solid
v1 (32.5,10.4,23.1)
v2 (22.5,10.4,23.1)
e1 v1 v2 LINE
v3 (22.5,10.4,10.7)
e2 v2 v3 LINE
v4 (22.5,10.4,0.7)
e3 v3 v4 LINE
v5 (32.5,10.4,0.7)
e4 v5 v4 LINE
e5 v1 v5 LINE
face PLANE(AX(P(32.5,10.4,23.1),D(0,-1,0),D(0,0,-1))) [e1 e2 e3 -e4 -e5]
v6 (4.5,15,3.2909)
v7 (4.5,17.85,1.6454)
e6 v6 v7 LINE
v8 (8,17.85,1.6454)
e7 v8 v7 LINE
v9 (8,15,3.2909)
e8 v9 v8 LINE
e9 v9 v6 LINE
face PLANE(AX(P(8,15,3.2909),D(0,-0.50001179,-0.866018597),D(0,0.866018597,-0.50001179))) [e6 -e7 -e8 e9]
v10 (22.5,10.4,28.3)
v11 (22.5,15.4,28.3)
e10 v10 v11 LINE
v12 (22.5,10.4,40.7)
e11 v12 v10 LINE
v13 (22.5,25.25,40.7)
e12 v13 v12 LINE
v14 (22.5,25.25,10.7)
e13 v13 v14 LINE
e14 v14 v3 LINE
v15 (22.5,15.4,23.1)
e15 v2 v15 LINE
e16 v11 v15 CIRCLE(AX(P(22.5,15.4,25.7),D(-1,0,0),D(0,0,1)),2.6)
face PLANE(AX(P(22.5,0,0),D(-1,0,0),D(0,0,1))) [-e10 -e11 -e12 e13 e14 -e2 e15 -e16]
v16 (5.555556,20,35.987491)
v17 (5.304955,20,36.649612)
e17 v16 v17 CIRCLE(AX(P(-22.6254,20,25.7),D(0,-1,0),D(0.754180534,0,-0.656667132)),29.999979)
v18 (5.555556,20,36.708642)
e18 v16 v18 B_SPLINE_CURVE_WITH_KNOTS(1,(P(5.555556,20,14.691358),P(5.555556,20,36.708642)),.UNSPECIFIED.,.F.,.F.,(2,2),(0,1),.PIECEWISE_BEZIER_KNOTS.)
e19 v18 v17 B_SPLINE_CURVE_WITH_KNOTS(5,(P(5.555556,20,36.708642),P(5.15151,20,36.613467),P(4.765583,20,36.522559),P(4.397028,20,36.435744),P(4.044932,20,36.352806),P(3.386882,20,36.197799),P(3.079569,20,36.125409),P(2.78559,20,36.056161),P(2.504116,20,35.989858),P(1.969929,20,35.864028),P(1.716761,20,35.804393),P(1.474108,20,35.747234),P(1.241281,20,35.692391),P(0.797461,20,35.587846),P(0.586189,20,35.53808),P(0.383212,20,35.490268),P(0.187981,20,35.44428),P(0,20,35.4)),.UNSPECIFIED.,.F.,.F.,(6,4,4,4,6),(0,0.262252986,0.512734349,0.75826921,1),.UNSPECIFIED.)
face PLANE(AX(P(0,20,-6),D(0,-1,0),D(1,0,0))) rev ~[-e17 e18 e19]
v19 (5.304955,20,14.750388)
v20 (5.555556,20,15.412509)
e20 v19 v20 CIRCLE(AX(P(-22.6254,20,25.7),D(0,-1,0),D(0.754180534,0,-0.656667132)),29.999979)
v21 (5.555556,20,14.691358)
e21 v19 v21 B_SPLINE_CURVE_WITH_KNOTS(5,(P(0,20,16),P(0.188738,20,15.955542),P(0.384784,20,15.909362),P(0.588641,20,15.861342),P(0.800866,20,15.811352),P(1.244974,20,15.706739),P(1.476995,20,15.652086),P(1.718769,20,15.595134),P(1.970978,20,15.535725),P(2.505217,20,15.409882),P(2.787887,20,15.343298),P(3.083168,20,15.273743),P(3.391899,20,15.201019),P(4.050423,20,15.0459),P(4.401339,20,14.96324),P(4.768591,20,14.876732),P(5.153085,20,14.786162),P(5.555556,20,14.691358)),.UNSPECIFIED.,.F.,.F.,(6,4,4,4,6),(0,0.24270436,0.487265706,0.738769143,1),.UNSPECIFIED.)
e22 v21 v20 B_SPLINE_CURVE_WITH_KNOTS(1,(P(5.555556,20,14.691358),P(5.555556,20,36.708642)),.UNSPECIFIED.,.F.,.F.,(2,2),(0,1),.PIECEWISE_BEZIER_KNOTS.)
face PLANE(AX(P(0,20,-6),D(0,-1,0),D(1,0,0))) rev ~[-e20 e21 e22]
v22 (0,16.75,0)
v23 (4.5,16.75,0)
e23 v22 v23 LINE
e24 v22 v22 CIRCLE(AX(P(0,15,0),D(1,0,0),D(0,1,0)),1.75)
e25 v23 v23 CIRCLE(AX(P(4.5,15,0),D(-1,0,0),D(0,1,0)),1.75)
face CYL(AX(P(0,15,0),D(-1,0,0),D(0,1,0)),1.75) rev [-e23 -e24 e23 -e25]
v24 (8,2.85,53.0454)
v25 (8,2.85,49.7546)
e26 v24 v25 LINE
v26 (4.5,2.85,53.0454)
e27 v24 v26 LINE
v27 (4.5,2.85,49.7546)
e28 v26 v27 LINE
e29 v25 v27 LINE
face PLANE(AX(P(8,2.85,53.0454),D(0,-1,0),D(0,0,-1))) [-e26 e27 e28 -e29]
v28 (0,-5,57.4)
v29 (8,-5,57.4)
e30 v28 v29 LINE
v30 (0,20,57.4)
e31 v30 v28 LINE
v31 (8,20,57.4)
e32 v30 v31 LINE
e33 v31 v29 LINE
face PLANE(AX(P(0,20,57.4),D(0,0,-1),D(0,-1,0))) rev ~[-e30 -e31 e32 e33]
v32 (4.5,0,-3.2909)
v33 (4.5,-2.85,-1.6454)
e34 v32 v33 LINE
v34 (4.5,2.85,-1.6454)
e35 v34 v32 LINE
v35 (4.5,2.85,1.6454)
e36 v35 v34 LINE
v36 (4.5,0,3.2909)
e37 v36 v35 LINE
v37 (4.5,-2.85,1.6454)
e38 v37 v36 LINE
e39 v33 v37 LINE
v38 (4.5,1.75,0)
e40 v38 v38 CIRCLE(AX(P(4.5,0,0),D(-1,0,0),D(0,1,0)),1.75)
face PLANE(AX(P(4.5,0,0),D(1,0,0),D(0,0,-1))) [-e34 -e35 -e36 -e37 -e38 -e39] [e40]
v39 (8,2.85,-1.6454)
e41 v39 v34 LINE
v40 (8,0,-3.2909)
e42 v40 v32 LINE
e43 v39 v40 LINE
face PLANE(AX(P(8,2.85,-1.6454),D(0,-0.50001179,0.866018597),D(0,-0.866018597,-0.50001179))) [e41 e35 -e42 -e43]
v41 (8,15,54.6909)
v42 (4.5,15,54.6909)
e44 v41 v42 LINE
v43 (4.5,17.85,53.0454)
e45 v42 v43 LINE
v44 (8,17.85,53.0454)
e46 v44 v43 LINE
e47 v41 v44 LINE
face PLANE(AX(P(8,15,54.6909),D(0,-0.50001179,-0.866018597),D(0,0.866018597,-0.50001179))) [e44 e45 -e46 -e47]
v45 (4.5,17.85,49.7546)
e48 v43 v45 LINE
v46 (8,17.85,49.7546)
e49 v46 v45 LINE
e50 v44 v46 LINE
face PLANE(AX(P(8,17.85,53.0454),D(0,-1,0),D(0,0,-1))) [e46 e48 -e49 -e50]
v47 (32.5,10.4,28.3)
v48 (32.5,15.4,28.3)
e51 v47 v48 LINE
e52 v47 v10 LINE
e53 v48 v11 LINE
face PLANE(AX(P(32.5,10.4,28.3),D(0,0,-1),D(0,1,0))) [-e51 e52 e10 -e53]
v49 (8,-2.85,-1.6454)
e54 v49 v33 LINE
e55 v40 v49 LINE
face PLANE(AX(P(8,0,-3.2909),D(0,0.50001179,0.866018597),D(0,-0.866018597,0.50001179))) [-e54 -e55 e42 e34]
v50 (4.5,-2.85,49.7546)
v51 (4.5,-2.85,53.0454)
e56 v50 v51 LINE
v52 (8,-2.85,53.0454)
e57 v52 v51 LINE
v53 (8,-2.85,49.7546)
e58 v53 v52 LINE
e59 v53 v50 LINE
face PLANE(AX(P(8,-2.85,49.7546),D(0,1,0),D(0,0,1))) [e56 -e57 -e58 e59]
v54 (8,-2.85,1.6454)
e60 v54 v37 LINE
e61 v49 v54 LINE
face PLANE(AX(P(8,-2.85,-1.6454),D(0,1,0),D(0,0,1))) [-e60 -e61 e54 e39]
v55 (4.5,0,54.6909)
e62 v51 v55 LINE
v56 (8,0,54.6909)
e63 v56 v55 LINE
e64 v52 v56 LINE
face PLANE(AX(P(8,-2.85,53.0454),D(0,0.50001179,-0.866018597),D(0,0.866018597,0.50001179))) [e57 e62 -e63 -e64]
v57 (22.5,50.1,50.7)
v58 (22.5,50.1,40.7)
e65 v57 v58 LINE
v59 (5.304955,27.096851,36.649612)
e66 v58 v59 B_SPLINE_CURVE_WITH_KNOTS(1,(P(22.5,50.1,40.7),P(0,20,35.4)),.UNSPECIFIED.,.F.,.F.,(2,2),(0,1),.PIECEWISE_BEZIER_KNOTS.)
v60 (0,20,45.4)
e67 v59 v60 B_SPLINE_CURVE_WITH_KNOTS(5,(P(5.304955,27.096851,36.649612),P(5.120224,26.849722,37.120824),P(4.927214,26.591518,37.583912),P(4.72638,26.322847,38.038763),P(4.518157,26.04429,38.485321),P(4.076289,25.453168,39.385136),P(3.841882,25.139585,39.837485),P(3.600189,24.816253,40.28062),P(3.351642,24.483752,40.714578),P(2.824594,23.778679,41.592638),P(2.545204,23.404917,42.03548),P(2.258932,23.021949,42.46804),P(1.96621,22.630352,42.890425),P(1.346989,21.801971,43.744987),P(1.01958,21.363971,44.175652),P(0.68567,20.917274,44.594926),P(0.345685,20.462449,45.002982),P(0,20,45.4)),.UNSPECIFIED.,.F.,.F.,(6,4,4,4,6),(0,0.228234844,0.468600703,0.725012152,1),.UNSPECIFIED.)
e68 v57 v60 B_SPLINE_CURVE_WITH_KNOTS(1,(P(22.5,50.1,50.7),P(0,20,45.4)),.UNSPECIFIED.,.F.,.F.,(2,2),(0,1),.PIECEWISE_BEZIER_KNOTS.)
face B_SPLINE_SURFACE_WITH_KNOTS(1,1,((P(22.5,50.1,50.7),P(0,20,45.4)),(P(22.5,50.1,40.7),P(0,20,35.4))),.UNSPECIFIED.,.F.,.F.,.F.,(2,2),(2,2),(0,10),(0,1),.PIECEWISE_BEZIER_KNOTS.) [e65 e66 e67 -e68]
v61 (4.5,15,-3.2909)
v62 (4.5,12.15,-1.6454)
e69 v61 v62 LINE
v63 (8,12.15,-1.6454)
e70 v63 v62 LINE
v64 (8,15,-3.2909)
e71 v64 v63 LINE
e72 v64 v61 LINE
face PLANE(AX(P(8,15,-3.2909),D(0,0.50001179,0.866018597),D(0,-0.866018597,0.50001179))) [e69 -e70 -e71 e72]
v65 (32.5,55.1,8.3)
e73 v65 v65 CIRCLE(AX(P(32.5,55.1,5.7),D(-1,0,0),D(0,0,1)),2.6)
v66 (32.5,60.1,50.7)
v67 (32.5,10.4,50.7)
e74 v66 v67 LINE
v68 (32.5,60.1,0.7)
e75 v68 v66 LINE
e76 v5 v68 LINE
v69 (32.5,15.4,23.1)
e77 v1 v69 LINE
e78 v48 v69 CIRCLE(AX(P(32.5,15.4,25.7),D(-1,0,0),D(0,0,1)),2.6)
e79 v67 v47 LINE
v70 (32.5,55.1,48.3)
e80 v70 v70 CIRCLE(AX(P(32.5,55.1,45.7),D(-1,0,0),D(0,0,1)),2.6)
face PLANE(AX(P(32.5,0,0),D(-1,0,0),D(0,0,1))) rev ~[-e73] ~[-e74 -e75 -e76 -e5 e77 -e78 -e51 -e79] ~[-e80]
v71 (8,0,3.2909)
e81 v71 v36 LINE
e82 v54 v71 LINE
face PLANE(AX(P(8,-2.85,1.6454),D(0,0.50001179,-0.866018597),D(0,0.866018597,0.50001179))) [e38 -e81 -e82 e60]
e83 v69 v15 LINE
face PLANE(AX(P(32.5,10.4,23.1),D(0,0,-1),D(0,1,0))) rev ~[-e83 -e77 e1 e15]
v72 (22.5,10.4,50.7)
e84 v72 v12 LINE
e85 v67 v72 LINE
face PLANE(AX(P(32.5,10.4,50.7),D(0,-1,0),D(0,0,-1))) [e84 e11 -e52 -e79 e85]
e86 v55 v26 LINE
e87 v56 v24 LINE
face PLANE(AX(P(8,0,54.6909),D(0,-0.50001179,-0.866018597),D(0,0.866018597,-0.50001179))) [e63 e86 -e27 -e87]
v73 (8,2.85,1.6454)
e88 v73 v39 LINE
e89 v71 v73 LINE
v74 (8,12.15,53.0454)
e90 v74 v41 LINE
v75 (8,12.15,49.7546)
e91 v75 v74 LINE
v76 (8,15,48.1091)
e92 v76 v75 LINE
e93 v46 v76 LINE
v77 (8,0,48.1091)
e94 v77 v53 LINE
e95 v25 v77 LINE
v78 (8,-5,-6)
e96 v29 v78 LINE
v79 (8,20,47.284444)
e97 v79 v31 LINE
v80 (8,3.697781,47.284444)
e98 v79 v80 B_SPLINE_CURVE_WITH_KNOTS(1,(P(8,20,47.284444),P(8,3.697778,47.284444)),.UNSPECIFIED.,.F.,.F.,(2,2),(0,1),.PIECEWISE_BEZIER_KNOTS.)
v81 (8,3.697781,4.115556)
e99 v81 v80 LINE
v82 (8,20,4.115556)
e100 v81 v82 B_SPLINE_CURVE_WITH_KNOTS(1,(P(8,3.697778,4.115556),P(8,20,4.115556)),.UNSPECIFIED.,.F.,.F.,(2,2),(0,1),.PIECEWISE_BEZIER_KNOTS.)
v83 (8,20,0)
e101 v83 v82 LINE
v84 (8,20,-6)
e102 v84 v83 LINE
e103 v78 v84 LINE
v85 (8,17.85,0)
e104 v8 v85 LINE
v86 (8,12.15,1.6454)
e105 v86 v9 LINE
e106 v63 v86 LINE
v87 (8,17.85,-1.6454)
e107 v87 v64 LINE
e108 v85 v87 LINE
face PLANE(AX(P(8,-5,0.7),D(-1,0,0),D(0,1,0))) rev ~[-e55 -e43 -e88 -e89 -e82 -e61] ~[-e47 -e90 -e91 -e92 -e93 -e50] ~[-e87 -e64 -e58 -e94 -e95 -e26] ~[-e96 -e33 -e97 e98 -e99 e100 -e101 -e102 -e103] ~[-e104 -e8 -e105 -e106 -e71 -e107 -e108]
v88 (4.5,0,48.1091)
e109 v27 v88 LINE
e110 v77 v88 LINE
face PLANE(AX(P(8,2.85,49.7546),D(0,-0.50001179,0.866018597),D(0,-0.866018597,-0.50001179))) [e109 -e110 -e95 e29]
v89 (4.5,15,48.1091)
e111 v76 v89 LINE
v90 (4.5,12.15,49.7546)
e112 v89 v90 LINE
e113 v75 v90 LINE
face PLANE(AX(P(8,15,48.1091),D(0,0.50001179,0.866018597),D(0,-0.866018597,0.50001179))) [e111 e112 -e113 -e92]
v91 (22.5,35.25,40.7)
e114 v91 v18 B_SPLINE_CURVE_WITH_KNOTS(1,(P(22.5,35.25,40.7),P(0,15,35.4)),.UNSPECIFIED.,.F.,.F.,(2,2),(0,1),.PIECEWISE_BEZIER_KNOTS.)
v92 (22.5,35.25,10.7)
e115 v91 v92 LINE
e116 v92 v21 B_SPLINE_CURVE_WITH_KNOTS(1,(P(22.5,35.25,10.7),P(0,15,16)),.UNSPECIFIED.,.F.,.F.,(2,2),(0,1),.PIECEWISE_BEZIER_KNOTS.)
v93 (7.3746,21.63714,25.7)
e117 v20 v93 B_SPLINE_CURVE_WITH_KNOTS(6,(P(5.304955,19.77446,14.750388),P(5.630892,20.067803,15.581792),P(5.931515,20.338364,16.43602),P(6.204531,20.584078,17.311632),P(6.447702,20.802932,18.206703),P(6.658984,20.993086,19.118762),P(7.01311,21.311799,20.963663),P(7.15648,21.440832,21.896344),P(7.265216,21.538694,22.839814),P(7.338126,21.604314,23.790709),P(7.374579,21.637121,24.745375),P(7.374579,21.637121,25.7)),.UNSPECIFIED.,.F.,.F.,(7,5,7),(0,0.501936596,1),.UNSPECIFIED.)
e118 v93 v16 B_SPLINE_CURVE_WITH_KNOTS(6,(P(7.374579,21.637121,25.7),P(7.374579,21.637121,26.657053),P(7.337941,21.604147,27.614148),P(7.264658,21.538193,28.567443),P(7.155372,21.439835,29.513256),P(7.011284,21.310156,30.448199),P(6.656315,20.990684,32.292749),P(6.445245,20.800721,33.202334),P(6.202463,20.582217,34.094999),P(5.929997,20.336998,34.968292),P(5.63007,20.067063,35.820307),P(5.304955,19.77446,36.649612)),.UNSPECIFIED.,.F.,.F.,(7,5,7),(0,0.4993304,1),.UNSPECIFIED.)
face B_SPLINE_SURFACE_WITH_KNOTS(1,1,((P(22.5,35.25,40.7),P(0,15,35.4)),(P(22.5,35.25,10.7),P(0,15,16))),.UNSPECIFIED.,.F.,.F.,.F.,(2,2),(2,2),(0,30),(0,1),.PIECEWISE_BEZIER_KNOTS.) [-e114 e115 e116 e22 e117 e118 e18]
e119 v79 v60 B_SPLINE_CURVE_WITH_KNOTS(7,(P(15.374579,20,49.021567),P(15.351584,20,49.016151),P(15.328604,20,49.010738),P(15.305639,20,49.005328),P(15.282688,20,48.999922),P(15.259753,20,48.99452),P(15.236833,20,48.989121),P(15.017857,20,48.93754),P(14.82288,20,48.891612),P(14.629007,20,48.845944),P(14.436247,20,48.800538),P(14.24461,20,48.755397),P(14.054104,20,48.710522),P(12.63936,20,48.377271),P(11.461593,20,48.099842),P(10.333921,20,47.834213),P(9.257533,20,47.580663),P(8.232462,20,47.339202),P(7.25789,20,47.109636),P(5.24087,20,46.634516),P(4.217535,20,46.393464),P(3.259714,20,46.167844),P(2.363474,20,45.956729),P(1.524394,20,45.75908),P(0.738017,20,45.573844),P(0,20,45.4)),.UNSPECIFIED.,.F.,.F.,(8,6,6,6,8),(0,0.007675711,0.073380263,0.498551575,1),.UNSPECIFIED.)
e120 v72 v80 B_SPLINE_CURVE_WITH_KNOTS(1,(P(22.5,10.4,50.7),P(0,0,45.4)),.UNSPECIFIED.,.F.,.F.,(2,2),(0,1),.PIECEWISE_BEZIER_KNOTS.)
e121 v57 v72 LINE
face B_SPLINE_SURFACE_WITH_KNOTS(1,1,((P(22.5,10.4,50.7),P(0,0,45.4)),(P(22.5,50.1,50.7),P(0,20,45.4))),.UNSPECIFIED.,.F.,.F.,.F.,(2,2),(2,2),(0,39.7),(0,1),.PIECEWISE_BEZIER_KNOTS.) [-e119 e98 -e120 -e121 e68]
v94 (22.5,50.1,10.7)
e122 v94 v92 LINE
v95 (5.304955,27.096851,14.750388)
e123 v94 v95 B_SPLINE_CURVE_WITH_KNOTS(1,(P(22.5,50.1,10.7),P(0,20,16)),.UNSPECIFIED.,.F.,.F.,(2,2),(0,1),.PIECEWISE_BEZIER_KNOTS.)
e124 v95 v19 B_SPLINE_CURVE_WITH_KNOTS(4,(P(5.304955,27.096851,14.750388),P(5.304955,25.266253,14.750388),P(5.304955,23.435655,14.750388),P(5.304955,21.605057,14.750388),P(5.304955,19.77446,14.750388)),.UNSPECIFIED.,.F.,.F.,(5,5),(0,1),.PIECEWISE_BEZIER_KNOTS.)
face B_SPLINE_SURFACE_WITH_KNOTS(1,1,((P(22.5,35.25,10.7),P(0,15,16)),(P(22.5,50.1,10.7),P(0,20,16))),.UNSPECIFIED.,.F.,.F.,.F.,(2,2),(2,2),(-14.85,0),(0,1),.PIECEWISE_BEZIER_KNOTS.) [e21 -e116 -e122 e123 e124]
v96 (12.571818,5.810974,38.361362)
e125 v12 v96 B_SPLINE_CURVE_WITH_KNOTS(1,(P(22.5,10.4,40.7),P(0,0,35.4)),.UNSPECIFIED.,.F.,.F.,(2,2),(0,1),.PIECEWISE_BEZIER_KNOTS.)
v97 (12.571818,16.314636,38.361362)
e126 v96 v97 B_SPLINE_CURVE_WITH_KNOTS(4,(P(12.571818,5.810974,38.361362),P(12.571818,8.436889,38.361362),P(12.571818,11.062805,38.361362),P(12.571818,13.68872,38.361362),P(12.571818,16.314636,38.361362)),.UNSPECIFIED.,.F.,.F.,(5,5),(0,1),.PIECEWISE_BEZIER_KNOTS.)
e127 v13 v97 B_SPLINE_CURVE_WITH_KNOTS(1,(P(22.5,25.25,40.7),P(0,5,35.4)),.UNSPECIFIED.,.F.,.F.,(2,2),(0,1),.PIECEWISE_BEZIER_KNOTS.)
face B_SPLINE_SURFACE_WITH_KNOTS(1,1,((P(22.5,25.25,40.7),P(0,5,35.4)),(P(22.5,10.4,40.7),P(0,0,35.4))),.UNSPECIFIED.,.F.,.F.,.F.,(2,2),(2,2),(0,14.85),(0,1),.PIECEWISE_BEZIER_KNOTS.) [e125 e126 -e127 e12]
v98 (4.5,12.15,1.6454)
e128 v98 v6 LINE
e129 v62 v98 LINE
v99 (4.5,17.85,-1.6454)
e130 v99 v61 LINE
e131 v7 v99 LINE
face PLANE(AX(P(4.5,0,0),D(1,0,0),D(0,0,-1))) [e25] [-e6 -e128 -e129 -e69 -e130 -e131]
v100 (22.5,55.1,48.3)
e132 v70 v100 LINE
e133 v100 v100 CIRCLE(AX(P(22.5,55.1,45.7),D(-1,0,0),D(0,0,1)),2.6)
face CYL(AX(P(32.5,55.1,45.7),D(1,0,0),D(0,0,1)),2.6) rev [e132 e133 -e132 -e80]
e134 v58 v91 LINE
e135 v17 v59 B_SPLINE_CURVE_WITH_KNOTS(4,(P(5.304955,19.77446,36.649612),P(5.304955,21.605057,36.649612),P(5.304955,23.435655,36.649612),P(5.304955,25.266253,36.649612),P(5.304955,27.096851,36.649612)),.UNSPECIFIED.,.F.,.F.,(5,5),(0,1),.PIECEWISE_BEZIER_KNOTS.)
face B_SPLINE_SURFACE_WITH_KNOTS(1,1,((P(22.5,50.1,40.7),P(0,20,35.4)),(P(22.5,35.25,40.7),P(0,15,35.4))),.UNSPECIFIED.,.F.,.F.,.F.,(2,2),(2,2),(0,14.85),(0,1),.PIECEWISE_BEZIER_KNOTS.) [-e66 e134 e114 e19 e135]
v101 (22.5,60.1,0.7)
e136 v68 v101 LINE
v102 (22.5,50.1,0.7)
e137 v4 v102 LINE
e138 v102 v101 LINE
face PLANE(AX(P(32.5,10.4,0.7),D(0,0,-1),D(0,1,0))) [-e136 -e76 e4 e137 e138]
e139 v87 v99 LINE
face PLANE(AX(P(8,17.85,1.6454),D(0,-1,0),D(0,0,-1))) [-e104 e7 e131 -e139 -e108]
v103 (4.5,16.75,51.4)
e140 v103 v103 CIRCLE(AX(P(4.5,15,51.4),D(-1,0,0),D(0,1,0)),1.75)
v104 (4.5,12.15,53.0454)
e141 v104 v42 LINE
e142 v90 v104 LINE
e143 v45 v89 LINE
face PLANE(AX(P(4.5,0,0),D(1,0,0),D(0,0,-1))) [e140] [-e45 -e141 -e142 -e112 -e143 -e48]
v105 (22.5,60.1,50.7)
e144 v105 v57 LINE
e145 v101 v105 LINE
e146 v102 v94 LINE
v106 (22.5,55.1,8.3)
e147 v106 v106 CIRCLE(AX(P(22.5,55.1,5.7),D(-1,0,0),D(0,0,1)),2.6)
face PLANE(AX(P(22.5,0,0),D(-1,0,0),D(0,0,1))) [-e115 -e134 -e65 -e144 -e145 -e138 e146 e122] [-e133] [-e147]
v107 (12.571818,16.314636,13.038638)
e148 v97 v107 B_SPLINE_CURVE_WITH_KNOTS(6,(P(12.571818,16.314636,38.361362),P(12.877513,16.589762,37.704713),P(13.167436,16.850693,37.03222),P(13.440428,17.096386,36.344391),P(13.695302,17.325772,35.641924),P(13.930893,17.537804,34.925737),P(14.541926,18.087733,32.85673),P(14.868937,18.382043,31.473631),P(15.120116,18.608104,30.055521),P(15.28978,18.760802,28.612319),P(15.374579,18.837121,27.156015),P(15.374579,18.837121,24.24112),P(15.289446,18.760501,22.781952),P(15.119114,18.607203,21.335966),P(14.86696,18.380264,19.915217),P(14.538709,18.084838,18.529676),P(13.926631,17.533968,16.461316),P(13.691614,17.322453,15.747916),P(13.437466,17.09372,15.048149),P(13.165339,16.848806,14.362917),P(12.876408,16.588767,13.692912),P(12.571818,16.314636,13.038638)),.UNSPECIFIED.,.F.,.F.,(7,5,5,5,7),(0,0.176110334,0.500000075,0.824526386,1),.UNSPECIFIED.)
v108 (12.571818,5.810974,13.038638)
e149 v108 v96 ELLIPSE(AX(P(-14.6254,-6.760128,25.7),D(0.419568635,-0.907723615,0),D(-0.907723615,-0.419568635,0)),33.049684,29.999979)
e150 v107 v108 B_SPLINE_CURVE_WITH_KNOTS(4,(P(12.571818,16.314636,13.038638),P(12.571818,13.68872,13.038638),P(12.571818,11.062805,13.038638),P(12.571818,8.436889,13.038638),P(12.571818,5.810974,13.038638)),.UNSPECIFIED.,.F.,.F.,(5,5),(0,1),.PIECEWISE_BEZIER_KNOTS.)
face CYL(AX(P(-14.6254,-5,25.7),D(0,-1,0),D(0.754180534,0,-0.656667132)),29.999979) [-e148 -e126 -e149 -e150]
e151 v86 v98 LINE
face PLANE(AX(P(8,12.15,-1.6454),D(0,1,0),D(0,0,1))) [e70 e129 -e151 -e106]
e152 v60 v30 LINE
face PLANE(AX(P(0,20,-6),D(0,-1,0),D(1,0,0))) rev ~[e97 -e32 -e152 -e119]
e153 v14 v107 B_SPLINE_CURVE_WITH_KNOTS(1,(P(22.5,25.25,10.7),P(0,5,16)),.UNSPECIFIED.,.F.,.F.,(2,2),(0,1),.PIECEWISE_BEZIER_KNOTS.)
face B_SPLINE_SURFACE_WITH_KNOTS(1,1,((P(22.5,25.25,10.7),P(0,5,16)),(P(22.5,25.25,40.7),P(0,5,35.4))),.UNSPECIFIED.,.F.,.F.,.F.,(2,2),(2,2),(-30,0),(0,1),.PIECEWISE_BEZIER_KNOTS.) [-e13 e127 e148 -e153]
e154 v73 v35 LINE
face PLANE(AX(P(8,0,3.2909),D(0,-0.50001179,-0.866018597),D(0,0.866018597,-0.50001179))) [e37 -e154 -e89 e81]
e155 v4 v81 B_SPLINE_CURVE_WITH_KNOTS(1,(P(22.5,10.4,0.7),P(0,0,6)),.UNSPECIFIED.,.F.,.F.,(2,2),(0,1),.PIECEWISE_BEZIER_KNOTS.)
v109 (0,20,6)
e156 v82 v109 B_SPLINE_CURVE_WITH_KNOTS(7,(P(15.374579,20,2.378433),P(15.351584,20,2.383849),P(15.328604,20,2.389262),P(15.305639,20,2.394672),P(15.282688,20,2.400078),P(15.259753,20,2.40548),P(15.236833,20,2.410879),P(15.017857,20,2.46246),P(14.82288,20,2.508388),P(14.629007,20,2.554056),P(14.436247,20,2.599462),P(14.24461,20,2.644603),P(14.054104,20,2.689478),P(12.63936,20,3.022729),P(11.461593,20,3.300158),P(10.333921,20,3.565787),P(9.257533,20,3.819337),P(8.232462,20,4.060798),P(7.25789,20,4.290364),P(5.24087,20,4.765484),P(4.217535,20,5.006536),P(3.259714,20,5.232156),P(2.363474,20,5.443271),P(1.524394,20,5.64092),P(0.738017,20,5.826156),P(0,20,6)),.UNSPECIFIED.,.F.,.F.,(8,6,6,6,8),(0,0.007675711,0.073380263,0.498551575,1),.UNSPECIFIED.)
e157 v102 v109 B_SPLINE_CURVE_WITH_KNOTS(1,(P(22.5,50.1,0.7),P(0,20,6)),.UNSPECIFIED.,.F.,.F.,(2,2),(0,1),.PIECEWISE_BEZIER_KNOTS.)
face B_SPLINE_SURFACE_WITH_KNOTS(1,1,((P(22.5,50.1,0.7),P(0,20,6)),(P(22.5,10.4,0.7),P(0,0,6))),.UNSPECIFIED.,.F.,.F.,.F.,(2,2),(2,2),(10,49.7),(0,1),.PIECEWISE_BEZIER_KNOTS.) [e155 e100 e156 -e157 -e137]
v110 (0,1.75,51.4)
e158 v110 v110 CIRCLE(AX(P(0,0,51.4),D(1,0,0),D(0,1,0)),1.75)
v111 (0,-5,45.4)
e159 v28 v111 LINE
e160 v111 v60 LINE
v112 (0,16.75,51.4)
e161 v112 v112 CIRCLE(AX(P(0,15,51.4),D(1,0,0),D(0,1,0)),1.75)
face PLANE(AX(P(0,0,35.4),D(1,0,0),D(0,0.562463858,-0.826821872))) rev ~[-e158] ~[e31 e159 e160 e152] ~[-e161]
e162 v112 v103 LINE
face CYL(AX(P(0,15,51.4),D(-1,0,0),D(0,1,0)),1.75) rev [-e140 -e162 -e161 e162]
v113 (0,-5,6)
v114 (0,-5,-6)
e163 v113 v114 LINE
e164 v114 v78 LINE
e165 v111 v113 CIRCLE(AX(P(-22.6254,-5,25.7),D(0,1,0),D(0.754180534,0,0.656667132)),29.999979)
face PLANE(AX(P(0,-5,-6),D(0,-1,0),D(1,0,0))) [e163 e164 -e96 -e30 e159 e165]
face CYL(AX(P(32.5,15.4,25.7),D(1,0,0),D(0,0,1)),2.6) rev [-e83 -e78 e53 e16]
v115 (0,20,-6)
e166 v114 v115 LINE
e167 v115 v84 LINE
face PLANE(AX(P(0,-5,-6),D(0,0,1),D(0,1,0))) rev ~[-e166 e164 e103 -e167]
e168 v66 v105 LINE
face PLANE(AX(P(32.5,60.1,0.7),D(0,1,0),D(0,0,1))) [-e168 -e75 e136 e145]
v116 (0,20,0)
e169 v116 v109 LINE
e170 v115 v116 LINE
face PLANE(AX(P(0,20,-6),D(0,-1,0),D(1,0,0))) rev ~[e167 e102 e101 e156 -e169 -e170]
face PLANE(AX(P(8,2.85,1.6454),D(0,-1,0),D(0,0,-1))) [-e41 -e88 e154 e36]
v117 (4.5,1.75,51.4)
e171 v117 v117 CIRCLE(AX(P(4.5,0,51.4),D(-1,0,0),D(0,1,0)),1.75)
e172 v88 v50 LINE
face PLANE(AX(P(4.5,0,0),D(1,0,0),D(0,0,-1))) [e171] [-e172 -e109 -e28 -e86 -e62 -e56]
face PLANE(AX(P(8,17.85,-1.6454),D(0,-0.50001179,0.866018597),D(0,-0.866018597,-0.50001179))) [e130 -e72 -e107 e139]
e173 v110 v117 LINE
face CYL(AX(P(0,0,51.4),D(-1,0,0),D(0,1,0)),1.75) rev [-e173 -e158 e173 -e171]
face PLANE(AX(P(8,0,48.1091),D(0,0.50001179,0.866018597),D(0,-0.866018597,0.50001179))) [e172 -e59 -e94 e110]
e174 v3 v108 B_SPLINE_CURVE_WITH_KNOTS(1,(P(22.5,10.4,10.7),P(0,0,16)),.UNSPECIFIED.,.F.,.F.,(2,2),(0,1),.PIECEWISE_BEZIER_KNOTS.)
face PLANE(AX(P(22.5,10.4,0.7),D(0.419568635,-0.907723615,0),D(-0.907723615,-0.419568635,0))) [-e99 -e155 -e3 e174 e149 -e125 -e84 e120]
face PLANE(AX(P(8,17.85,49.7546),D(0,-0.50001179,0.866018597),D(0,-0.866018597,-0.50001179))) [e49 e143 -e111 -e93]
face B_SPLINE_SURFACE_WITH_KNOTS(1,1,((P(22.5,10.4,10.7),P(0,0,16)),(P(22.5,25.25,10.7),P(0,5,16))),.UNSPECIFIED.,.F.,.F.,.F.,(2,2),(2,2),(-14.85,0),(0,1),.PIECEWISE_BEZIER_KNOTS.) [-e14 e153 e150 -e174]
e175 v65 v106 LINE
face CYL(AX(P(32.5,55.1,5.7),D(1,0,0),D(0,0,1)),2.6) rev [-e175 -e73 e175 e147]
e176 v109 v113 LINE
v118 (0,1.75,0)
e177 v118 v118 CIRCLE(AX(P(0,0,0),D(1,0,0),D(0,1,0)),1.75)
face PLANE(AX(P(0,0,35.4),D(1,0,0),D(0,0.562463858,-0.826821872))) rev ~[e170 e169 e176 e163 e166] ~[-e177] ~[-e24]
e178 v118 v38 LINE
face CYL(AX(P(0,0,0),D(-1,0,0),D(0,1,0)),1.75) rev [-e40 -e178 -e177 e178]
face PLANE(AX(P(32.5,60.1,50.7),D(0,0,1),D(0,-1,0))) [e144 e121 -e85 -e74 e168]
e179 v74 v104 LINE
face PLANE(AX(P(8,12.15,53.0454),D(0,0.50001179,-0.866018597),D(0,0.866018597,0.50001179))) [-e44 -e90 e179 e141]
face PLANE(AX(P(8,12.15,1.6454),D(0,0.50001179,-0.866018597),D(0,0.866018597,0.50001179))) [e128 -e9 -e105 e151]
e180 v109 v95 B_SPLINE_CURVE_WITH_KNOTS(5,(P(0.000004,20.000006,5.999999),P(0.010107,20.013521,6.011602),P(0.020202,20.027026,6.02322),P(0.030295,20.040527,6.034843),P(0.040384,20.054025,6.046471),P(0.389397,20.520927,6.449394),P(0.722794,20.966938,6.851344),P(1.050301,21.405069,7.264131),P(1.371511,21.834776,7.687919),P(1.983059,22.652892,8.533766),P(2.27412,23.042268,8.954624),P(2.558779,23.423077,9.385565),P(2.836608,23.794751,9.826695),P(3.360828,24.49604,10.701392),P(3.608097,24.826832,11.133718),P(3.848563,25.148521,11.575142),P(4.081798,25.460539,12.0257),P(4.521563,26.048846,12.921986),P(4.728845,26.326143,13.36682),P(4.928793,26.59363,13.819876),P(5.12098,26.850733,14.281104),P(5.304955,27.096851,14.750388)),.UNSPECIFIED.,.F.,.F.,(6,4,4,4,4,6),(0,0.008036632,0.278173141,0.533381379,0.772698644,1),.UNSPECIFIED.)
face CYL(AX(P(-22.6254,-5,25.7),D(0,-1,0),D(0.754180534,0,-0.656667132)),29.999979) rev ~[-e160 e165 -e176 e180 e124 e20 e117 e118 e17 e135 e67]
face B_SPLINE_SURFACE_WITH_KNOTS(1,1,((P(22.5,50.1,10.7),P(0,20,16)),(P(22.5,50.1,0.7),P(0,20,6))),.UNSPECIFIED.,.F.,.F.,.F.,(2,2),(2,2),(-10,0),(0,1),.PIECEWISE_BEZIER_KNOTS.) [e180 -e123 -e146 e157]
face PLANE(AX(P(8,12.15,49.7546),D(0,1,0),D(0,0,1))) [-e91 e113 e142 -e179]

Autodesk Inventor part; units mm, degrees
ref_plane "YZ Plane" through (0, 0, 0) normal (1, 0, 0) x (0, 1, 0)
ref_plane "XZ Plane" through (0, 0, 0) normal (0, 1, 0) x (-1, 0, 0)
sketch "Sketch1" plane through (0, 0, 0) normal (1, 0, 0) x (0, 1, 0)
  circle A0 centre (0, 0) radius 1.75
  circle A1 centre (15, 0) radius 1.75
  line L0 (15, 0) -> (0, 0) construction
  line L1 (15, 0) -> (15, 51.4) construction
  line L2 (0, 0) -> (0, 51.4) construction
  circle A2 centre (0, 51.4) radius 1.75
  circle A3 centre (15, 51.4) radius 1.75
  line L3 (15, 25.7) -> (15.4, 25.7) construction
  line L4 (20, 57.4) -> (-5, 57.4)
  line L5 (-5, 57.4) -> (-5, 45.4)
  line L6 (-5, 45.4) -> (20, 45.4)
  line L7 (20, 45.4) -> (20, 57.4)
  line L8 (20, 6) -> (-5, 6)
  line L9 (-5, 6) -> (-5, -6)
  line L10 (-5, -6) -> (20, -6)
  line L11 (20, -6) -> (20, 6)
  line L12 (7.5, 45.4) -> (7.5, 0) construction
  line L13 (15, 51.4) -> (20, 51.4) construction
  line L14 (15, 0) -> (20, 0)
  circle A4 centre (15.4, 25.7) radius 2.6
  line L15 (55.1, 45.7) -> (55.1, 5.7) construction
  circle A5 centre (55.1, 45.7) radius 2.6
  circle A6 centre (55.1, 5.7) radius 2.6
  line L16 (55.1, 25.7) -> (15.4, 25.7) construction
  dimension "d0" = 3.5
  dimension "d1" = 15
  dimension "d2" = 51.4
  dimension "d3" = 51.4
  dimension "d15" = 0.4
  dimension "d20" = 12
  dimension "d21" = 25
  dimension "d60" = 5.2
  dimension "d61" = 40
  dimension "d62" = 39.7
extrude "Extrusion3" add sketch "Sketch1" along normal blind 8 contours L11 L10 L9 L8 | L7 L6 L5 L4
sketch "Sketch3" plane through (0, -5, -6) normal (0, -1, 0) x (1, 0, 0)
  arc A0 (0, 51.4) -> (0, 12) centre (-22.6254, 31.7) ccw construction
  arc A1 (8, 51.4) -> (8, 12) centre (-14.6254, 31.7) ccw construction
  line L0 (0, 51.4) -> (0, 63.4) projected
  line L1 (0, 63.4) -> (8, 63.4) projected
  line L2 (8, 51.4) -> (8, 63.4) projected
  line L3 (0, 51.4) -> (8, 51.4) projected
  line L4 (0, 0) -> (0, 12) projected
  line L5 (0, 12) -> (8, 12) projected
  line L6 (8, 0) -> (8, 12) projected
  line L7 (0, 0) -> (8, 0) projected
  arc A2 (8, 12) -> (8, 51.4) centre (-14.6254, 31.7) ccw
  arc A3 (0, 12) -> (0, 51.4) centre (-22.6254, 31.7) ccw
  point P0 (0, 6)
  dimension "d24" = 60
extrude "Extrusion4" add sketch "Sketch3" against normal up to surface (25 mm away) contours L3 A2 L5 A3
ref_plane "Work Plane1" through (32.5, 0, 0) normal (-1, 0, 0) x (0, 0, 1)
sketch "Sketch4" plane through (32.5, 0, 0) normal (-1, 0, 0) x (0, 0, 1)
  circle A0 centre (25.7, 15.4) radius 2.6 projected
  circle A1 centre (45.7, 55.1) radius 2.6 projected
  circle A2 centre (5.7, 55.1) radius 2.6 projected
  line L0 (25.7, 15) -> (25.7, 15.4) construction
  line L1 (50.7, 10.4) -> (0.7, 10.4)
  line L2 (0.7, 10.4) -> (0.7, 60.1)
  line L3 (0.7, 60.1) -> (50.7, 60.1)
  line L4 (50.7, 60.1) -> (50.7, 10.4)
  line L5 (28.3, 10.4) -> (28.3, 15.4)
  line L6 (23.1, 10.4) -> (23.1, 15.4)
  point P0 (25.7, 55.1)
  dimension "d67" = 5
  dimension "d68" = 5
  dimension "d69" = 5
  dimension "d70" = 5
extrude "Extrusion5" add sketch "Sketch4" along normal blind 10 contours A0 L6 L1 L2 L3 L4 L5
sketch "Sketch8" plane through (8, 0, 0) normal (1, 0, 0) x (0, 0, -1)
  circle A0 centre (-51.4, 0) radius 1.75 projected
  line L0 (-54.6909, 0) -> (-53.0454, 2.85)
  line L1 (-53.0454, 2.85) -> (-49.7546, 2.85)
  line L2 (-49.7546, 2.85) -> (-48.1091, 0)
  line L3 (-48.1091, 0) -> (-49.7546, -2.85)
  line L4 (-49.7546, -2.85) -> (-53.0454, -2.85)
  line L5 (-53.0454, -2.85) -> (-54.6909, 0)
  circle A1 centre (-51.4, 15) radius 1.75 projected
  line L6 (-54.6909, 15) -> (-53.0454, 17.85)
  line L7 (-53.0454, 17.85) -> (-49.7546, 17.85)
  line L8 (-49.7546, 17.85) -> (-48.1091, 15)
  line L9 (-48.1091, 15) -> (-49.7546, 12.15)
  line L10 (-49.7546, 12.15) -> (-53.0454, 12.15)
  line L11 (-53.0454, 12.15) -> (-54.6909, 15)
  line L12 (-3.2909, 0) -> (-1.6454, 2.85)
  line L13 (-1.6454, 2.85) -> (1.6454, 2.85)
  line L14 (1.6454, 2.85) -> (3.2909, 0)
  line L15 (3.2909, 0) -> (1.6454, -2.85)
  line L16 (1.6454, -2.85) -> (-1.6454, -2.85)
  line L17 (-1.6454, -2.85) -> (-3.2909, 0)
  circle A2 centre (0, 15) radius 1.75 projected
  line L18 (-3.2909, 15) -> (-1.6454, 17.85)
  line L19 (-1.6454, 17.85) -> (1.6454, 17.85)
  line L20 (1.6454, 17.85) -> (3.2909, 15)
  line L21 (3.2909, 15) -> (1.6454, 12.15)
  line L22 (1.6454, 12.15) -> (-1.6454, 12.15)
  line L23 (-1.6454, 12.15) -> (-3.2909, 15)
  circle A3 centre (0, 0) radius 1.75 projected
  dimension "d54" = 5.7
extrude "Extrusion7" cut sketch "Sketch8" against normal blind 3.5 contours A0 | L0 L1 L2 L3 L4 L5 | A1 | L6 L7 L8 L9 L10 L11 | L12 L13 L14 L15 L16 L17 | A2 | L18 L19 L20 L21 L22 L23 | A3
sketch "Sketch10" plane through (22.5, 0, 0) normal (-1, 0, 0) x (0, 0, 1)
  line L0 (50.7, 10.4) -> (50.7, 60.1) projected
  line L1 (50.7, 50.1) -> (40.7, 50.1)
  line L2 (40.7, 50.1) -> (40.7, 35.25)
  line L3 (40.7, 10.4) -> (50.7, 10.4)
  line L4 (50.7, 10.4) -> (50.7, 50.1)
  line L5 (0.7, 10.4) -> (50.7, 10.4) projected
  line L6 (0.7, 60.1) -> (0.7, 10.4) projected
  line L7 (10.7, 10.4) -> (0.7, 10.4)
  line L8 (0.7, 10.4) -> (0.7, 50.1)
  line L9 (0.7, 50.1) -> (10.7, 50.1)
  line L10 (10.7, 50.1) -> (10.7, 35.25)
  line L11 (40.7, 30.25) -> (10.7, 30.25) construction
  line L12 (25.7, 35.25) -> (25.7, 25.25) construction
  line L13 (40.7, 35.25) -> (10.7, 35.25)
  line L14 (40.7, 25.25) -> (10.7, 25.25)
  line L15 (10.7, 30.25) -> (0.7, 30.25) construction
  circle A0 centre (5.7, 55.1) radius 2.6 projected
  line L16 (10.7, 25.25) -> (10.7, 10.4)
  line L17 (10.7, 35.25) -> (10.7, 25.25) construction
  line L18 (40.7, 35.25) -> (40.7, 25.25) construction
  line L19 (40.7, 25.25) -> (40.7, 10.4)
  point P0 (0, 0)
  point P1 (25.7, 30.25)
  dimension "d71" = 10
  dimension "d72" = 5
sketch "Sketch13" plane through (0, 0, 0) normal (-1, 0, 0) x (0, 0, 1)
  line L0 (45.4, 20) -> (57.4, 20) projected
  line L1 (57.4, -5) -> (45.4, -5) projected
  line L2 (6, -5) -> (45.4, -5) projected
  line L3 (35.4, 5) -> (16, 5)
  line L4 (-6, 20) -> (6, 20) projected
  line L5 (6, 20) -> (16, 20)
  line L6 (6, 20) -> (45.4, 20) projected
  line L7 (16, 20) -> (16, 15)
  line L8 (16, 15) -> (35.4, 15)
  line L9 (35.4, 15) -> (35.4, 20)
  line L10 (35.4, 20) -> (45.4, 20)
  line L11 (45.4, -5) -> (45.4, 20) projected
  line L12 (45.4, 20) -> (45.4, 0)
  line L13 (35.4, 5) -> (35.4, 0)
  line L14 (35.4, 0) -> (45.4, 0)
  line L15 (6, 20) -> (6, 0)
  line L16 (6, 20) -> (6, -5) projected
  line L17 (6, 0) -> (16, 0)
  line L18 (16, 0) -> (16, 5)
  point P0 (0, 0)
  dimension "d83" = 10
  dimension "d84" = 5
  dimension "d85" = 10
loft "Loft3" add profiles "Sketch10", "Sketch13" contours L3 L19 L14 L16 L5 L6 L9 L10 L13 L2 L1 L0 / L15 L5 L7 L8 L9 L6 L11 L14 L13 L3 L18 L17
sketch "Sketch14" plane through (0, -5, -6) normal (0, -1, 0) x (1, 0, 0)
  arc A0 (0, 12) -> (0, 51.4) centre (-22.6254, 31.7) ccw projected
  circle A1 centre (-22.6254, 31.7) radius 30
  point P0 (0, 6)
  point P1 (0, 51.4)
  point P2 (0, 12)
extrude "Extrusion10" cut sketch "Sketch14" against normal through all
sketch "Sketch15" plane through (32.5, 10.4, 0.7) normal (0, 0, -1) x (-1, 0, 0)
  line L0 (10, 0) -> (24.5, -6.7022) projected
  line L1 (24.5, -15.4) -> (24.5, -6.7022) projected
  line L2 (24.5, -6.7022) -> (24.5, -15.4)
  line L3 (24.5, -15.4) -> (10, -15.4)
  line L4 (10, 0) -> (10, 39.7) projected
  line L5 (10, -15.4) -> (10, 0)
  point P0 (32.5, -10.4)
extrude "Extrusion11" cut sketch "Sketch15" against normal through all
properties part number "Soporte" material "ABS Plastic"
